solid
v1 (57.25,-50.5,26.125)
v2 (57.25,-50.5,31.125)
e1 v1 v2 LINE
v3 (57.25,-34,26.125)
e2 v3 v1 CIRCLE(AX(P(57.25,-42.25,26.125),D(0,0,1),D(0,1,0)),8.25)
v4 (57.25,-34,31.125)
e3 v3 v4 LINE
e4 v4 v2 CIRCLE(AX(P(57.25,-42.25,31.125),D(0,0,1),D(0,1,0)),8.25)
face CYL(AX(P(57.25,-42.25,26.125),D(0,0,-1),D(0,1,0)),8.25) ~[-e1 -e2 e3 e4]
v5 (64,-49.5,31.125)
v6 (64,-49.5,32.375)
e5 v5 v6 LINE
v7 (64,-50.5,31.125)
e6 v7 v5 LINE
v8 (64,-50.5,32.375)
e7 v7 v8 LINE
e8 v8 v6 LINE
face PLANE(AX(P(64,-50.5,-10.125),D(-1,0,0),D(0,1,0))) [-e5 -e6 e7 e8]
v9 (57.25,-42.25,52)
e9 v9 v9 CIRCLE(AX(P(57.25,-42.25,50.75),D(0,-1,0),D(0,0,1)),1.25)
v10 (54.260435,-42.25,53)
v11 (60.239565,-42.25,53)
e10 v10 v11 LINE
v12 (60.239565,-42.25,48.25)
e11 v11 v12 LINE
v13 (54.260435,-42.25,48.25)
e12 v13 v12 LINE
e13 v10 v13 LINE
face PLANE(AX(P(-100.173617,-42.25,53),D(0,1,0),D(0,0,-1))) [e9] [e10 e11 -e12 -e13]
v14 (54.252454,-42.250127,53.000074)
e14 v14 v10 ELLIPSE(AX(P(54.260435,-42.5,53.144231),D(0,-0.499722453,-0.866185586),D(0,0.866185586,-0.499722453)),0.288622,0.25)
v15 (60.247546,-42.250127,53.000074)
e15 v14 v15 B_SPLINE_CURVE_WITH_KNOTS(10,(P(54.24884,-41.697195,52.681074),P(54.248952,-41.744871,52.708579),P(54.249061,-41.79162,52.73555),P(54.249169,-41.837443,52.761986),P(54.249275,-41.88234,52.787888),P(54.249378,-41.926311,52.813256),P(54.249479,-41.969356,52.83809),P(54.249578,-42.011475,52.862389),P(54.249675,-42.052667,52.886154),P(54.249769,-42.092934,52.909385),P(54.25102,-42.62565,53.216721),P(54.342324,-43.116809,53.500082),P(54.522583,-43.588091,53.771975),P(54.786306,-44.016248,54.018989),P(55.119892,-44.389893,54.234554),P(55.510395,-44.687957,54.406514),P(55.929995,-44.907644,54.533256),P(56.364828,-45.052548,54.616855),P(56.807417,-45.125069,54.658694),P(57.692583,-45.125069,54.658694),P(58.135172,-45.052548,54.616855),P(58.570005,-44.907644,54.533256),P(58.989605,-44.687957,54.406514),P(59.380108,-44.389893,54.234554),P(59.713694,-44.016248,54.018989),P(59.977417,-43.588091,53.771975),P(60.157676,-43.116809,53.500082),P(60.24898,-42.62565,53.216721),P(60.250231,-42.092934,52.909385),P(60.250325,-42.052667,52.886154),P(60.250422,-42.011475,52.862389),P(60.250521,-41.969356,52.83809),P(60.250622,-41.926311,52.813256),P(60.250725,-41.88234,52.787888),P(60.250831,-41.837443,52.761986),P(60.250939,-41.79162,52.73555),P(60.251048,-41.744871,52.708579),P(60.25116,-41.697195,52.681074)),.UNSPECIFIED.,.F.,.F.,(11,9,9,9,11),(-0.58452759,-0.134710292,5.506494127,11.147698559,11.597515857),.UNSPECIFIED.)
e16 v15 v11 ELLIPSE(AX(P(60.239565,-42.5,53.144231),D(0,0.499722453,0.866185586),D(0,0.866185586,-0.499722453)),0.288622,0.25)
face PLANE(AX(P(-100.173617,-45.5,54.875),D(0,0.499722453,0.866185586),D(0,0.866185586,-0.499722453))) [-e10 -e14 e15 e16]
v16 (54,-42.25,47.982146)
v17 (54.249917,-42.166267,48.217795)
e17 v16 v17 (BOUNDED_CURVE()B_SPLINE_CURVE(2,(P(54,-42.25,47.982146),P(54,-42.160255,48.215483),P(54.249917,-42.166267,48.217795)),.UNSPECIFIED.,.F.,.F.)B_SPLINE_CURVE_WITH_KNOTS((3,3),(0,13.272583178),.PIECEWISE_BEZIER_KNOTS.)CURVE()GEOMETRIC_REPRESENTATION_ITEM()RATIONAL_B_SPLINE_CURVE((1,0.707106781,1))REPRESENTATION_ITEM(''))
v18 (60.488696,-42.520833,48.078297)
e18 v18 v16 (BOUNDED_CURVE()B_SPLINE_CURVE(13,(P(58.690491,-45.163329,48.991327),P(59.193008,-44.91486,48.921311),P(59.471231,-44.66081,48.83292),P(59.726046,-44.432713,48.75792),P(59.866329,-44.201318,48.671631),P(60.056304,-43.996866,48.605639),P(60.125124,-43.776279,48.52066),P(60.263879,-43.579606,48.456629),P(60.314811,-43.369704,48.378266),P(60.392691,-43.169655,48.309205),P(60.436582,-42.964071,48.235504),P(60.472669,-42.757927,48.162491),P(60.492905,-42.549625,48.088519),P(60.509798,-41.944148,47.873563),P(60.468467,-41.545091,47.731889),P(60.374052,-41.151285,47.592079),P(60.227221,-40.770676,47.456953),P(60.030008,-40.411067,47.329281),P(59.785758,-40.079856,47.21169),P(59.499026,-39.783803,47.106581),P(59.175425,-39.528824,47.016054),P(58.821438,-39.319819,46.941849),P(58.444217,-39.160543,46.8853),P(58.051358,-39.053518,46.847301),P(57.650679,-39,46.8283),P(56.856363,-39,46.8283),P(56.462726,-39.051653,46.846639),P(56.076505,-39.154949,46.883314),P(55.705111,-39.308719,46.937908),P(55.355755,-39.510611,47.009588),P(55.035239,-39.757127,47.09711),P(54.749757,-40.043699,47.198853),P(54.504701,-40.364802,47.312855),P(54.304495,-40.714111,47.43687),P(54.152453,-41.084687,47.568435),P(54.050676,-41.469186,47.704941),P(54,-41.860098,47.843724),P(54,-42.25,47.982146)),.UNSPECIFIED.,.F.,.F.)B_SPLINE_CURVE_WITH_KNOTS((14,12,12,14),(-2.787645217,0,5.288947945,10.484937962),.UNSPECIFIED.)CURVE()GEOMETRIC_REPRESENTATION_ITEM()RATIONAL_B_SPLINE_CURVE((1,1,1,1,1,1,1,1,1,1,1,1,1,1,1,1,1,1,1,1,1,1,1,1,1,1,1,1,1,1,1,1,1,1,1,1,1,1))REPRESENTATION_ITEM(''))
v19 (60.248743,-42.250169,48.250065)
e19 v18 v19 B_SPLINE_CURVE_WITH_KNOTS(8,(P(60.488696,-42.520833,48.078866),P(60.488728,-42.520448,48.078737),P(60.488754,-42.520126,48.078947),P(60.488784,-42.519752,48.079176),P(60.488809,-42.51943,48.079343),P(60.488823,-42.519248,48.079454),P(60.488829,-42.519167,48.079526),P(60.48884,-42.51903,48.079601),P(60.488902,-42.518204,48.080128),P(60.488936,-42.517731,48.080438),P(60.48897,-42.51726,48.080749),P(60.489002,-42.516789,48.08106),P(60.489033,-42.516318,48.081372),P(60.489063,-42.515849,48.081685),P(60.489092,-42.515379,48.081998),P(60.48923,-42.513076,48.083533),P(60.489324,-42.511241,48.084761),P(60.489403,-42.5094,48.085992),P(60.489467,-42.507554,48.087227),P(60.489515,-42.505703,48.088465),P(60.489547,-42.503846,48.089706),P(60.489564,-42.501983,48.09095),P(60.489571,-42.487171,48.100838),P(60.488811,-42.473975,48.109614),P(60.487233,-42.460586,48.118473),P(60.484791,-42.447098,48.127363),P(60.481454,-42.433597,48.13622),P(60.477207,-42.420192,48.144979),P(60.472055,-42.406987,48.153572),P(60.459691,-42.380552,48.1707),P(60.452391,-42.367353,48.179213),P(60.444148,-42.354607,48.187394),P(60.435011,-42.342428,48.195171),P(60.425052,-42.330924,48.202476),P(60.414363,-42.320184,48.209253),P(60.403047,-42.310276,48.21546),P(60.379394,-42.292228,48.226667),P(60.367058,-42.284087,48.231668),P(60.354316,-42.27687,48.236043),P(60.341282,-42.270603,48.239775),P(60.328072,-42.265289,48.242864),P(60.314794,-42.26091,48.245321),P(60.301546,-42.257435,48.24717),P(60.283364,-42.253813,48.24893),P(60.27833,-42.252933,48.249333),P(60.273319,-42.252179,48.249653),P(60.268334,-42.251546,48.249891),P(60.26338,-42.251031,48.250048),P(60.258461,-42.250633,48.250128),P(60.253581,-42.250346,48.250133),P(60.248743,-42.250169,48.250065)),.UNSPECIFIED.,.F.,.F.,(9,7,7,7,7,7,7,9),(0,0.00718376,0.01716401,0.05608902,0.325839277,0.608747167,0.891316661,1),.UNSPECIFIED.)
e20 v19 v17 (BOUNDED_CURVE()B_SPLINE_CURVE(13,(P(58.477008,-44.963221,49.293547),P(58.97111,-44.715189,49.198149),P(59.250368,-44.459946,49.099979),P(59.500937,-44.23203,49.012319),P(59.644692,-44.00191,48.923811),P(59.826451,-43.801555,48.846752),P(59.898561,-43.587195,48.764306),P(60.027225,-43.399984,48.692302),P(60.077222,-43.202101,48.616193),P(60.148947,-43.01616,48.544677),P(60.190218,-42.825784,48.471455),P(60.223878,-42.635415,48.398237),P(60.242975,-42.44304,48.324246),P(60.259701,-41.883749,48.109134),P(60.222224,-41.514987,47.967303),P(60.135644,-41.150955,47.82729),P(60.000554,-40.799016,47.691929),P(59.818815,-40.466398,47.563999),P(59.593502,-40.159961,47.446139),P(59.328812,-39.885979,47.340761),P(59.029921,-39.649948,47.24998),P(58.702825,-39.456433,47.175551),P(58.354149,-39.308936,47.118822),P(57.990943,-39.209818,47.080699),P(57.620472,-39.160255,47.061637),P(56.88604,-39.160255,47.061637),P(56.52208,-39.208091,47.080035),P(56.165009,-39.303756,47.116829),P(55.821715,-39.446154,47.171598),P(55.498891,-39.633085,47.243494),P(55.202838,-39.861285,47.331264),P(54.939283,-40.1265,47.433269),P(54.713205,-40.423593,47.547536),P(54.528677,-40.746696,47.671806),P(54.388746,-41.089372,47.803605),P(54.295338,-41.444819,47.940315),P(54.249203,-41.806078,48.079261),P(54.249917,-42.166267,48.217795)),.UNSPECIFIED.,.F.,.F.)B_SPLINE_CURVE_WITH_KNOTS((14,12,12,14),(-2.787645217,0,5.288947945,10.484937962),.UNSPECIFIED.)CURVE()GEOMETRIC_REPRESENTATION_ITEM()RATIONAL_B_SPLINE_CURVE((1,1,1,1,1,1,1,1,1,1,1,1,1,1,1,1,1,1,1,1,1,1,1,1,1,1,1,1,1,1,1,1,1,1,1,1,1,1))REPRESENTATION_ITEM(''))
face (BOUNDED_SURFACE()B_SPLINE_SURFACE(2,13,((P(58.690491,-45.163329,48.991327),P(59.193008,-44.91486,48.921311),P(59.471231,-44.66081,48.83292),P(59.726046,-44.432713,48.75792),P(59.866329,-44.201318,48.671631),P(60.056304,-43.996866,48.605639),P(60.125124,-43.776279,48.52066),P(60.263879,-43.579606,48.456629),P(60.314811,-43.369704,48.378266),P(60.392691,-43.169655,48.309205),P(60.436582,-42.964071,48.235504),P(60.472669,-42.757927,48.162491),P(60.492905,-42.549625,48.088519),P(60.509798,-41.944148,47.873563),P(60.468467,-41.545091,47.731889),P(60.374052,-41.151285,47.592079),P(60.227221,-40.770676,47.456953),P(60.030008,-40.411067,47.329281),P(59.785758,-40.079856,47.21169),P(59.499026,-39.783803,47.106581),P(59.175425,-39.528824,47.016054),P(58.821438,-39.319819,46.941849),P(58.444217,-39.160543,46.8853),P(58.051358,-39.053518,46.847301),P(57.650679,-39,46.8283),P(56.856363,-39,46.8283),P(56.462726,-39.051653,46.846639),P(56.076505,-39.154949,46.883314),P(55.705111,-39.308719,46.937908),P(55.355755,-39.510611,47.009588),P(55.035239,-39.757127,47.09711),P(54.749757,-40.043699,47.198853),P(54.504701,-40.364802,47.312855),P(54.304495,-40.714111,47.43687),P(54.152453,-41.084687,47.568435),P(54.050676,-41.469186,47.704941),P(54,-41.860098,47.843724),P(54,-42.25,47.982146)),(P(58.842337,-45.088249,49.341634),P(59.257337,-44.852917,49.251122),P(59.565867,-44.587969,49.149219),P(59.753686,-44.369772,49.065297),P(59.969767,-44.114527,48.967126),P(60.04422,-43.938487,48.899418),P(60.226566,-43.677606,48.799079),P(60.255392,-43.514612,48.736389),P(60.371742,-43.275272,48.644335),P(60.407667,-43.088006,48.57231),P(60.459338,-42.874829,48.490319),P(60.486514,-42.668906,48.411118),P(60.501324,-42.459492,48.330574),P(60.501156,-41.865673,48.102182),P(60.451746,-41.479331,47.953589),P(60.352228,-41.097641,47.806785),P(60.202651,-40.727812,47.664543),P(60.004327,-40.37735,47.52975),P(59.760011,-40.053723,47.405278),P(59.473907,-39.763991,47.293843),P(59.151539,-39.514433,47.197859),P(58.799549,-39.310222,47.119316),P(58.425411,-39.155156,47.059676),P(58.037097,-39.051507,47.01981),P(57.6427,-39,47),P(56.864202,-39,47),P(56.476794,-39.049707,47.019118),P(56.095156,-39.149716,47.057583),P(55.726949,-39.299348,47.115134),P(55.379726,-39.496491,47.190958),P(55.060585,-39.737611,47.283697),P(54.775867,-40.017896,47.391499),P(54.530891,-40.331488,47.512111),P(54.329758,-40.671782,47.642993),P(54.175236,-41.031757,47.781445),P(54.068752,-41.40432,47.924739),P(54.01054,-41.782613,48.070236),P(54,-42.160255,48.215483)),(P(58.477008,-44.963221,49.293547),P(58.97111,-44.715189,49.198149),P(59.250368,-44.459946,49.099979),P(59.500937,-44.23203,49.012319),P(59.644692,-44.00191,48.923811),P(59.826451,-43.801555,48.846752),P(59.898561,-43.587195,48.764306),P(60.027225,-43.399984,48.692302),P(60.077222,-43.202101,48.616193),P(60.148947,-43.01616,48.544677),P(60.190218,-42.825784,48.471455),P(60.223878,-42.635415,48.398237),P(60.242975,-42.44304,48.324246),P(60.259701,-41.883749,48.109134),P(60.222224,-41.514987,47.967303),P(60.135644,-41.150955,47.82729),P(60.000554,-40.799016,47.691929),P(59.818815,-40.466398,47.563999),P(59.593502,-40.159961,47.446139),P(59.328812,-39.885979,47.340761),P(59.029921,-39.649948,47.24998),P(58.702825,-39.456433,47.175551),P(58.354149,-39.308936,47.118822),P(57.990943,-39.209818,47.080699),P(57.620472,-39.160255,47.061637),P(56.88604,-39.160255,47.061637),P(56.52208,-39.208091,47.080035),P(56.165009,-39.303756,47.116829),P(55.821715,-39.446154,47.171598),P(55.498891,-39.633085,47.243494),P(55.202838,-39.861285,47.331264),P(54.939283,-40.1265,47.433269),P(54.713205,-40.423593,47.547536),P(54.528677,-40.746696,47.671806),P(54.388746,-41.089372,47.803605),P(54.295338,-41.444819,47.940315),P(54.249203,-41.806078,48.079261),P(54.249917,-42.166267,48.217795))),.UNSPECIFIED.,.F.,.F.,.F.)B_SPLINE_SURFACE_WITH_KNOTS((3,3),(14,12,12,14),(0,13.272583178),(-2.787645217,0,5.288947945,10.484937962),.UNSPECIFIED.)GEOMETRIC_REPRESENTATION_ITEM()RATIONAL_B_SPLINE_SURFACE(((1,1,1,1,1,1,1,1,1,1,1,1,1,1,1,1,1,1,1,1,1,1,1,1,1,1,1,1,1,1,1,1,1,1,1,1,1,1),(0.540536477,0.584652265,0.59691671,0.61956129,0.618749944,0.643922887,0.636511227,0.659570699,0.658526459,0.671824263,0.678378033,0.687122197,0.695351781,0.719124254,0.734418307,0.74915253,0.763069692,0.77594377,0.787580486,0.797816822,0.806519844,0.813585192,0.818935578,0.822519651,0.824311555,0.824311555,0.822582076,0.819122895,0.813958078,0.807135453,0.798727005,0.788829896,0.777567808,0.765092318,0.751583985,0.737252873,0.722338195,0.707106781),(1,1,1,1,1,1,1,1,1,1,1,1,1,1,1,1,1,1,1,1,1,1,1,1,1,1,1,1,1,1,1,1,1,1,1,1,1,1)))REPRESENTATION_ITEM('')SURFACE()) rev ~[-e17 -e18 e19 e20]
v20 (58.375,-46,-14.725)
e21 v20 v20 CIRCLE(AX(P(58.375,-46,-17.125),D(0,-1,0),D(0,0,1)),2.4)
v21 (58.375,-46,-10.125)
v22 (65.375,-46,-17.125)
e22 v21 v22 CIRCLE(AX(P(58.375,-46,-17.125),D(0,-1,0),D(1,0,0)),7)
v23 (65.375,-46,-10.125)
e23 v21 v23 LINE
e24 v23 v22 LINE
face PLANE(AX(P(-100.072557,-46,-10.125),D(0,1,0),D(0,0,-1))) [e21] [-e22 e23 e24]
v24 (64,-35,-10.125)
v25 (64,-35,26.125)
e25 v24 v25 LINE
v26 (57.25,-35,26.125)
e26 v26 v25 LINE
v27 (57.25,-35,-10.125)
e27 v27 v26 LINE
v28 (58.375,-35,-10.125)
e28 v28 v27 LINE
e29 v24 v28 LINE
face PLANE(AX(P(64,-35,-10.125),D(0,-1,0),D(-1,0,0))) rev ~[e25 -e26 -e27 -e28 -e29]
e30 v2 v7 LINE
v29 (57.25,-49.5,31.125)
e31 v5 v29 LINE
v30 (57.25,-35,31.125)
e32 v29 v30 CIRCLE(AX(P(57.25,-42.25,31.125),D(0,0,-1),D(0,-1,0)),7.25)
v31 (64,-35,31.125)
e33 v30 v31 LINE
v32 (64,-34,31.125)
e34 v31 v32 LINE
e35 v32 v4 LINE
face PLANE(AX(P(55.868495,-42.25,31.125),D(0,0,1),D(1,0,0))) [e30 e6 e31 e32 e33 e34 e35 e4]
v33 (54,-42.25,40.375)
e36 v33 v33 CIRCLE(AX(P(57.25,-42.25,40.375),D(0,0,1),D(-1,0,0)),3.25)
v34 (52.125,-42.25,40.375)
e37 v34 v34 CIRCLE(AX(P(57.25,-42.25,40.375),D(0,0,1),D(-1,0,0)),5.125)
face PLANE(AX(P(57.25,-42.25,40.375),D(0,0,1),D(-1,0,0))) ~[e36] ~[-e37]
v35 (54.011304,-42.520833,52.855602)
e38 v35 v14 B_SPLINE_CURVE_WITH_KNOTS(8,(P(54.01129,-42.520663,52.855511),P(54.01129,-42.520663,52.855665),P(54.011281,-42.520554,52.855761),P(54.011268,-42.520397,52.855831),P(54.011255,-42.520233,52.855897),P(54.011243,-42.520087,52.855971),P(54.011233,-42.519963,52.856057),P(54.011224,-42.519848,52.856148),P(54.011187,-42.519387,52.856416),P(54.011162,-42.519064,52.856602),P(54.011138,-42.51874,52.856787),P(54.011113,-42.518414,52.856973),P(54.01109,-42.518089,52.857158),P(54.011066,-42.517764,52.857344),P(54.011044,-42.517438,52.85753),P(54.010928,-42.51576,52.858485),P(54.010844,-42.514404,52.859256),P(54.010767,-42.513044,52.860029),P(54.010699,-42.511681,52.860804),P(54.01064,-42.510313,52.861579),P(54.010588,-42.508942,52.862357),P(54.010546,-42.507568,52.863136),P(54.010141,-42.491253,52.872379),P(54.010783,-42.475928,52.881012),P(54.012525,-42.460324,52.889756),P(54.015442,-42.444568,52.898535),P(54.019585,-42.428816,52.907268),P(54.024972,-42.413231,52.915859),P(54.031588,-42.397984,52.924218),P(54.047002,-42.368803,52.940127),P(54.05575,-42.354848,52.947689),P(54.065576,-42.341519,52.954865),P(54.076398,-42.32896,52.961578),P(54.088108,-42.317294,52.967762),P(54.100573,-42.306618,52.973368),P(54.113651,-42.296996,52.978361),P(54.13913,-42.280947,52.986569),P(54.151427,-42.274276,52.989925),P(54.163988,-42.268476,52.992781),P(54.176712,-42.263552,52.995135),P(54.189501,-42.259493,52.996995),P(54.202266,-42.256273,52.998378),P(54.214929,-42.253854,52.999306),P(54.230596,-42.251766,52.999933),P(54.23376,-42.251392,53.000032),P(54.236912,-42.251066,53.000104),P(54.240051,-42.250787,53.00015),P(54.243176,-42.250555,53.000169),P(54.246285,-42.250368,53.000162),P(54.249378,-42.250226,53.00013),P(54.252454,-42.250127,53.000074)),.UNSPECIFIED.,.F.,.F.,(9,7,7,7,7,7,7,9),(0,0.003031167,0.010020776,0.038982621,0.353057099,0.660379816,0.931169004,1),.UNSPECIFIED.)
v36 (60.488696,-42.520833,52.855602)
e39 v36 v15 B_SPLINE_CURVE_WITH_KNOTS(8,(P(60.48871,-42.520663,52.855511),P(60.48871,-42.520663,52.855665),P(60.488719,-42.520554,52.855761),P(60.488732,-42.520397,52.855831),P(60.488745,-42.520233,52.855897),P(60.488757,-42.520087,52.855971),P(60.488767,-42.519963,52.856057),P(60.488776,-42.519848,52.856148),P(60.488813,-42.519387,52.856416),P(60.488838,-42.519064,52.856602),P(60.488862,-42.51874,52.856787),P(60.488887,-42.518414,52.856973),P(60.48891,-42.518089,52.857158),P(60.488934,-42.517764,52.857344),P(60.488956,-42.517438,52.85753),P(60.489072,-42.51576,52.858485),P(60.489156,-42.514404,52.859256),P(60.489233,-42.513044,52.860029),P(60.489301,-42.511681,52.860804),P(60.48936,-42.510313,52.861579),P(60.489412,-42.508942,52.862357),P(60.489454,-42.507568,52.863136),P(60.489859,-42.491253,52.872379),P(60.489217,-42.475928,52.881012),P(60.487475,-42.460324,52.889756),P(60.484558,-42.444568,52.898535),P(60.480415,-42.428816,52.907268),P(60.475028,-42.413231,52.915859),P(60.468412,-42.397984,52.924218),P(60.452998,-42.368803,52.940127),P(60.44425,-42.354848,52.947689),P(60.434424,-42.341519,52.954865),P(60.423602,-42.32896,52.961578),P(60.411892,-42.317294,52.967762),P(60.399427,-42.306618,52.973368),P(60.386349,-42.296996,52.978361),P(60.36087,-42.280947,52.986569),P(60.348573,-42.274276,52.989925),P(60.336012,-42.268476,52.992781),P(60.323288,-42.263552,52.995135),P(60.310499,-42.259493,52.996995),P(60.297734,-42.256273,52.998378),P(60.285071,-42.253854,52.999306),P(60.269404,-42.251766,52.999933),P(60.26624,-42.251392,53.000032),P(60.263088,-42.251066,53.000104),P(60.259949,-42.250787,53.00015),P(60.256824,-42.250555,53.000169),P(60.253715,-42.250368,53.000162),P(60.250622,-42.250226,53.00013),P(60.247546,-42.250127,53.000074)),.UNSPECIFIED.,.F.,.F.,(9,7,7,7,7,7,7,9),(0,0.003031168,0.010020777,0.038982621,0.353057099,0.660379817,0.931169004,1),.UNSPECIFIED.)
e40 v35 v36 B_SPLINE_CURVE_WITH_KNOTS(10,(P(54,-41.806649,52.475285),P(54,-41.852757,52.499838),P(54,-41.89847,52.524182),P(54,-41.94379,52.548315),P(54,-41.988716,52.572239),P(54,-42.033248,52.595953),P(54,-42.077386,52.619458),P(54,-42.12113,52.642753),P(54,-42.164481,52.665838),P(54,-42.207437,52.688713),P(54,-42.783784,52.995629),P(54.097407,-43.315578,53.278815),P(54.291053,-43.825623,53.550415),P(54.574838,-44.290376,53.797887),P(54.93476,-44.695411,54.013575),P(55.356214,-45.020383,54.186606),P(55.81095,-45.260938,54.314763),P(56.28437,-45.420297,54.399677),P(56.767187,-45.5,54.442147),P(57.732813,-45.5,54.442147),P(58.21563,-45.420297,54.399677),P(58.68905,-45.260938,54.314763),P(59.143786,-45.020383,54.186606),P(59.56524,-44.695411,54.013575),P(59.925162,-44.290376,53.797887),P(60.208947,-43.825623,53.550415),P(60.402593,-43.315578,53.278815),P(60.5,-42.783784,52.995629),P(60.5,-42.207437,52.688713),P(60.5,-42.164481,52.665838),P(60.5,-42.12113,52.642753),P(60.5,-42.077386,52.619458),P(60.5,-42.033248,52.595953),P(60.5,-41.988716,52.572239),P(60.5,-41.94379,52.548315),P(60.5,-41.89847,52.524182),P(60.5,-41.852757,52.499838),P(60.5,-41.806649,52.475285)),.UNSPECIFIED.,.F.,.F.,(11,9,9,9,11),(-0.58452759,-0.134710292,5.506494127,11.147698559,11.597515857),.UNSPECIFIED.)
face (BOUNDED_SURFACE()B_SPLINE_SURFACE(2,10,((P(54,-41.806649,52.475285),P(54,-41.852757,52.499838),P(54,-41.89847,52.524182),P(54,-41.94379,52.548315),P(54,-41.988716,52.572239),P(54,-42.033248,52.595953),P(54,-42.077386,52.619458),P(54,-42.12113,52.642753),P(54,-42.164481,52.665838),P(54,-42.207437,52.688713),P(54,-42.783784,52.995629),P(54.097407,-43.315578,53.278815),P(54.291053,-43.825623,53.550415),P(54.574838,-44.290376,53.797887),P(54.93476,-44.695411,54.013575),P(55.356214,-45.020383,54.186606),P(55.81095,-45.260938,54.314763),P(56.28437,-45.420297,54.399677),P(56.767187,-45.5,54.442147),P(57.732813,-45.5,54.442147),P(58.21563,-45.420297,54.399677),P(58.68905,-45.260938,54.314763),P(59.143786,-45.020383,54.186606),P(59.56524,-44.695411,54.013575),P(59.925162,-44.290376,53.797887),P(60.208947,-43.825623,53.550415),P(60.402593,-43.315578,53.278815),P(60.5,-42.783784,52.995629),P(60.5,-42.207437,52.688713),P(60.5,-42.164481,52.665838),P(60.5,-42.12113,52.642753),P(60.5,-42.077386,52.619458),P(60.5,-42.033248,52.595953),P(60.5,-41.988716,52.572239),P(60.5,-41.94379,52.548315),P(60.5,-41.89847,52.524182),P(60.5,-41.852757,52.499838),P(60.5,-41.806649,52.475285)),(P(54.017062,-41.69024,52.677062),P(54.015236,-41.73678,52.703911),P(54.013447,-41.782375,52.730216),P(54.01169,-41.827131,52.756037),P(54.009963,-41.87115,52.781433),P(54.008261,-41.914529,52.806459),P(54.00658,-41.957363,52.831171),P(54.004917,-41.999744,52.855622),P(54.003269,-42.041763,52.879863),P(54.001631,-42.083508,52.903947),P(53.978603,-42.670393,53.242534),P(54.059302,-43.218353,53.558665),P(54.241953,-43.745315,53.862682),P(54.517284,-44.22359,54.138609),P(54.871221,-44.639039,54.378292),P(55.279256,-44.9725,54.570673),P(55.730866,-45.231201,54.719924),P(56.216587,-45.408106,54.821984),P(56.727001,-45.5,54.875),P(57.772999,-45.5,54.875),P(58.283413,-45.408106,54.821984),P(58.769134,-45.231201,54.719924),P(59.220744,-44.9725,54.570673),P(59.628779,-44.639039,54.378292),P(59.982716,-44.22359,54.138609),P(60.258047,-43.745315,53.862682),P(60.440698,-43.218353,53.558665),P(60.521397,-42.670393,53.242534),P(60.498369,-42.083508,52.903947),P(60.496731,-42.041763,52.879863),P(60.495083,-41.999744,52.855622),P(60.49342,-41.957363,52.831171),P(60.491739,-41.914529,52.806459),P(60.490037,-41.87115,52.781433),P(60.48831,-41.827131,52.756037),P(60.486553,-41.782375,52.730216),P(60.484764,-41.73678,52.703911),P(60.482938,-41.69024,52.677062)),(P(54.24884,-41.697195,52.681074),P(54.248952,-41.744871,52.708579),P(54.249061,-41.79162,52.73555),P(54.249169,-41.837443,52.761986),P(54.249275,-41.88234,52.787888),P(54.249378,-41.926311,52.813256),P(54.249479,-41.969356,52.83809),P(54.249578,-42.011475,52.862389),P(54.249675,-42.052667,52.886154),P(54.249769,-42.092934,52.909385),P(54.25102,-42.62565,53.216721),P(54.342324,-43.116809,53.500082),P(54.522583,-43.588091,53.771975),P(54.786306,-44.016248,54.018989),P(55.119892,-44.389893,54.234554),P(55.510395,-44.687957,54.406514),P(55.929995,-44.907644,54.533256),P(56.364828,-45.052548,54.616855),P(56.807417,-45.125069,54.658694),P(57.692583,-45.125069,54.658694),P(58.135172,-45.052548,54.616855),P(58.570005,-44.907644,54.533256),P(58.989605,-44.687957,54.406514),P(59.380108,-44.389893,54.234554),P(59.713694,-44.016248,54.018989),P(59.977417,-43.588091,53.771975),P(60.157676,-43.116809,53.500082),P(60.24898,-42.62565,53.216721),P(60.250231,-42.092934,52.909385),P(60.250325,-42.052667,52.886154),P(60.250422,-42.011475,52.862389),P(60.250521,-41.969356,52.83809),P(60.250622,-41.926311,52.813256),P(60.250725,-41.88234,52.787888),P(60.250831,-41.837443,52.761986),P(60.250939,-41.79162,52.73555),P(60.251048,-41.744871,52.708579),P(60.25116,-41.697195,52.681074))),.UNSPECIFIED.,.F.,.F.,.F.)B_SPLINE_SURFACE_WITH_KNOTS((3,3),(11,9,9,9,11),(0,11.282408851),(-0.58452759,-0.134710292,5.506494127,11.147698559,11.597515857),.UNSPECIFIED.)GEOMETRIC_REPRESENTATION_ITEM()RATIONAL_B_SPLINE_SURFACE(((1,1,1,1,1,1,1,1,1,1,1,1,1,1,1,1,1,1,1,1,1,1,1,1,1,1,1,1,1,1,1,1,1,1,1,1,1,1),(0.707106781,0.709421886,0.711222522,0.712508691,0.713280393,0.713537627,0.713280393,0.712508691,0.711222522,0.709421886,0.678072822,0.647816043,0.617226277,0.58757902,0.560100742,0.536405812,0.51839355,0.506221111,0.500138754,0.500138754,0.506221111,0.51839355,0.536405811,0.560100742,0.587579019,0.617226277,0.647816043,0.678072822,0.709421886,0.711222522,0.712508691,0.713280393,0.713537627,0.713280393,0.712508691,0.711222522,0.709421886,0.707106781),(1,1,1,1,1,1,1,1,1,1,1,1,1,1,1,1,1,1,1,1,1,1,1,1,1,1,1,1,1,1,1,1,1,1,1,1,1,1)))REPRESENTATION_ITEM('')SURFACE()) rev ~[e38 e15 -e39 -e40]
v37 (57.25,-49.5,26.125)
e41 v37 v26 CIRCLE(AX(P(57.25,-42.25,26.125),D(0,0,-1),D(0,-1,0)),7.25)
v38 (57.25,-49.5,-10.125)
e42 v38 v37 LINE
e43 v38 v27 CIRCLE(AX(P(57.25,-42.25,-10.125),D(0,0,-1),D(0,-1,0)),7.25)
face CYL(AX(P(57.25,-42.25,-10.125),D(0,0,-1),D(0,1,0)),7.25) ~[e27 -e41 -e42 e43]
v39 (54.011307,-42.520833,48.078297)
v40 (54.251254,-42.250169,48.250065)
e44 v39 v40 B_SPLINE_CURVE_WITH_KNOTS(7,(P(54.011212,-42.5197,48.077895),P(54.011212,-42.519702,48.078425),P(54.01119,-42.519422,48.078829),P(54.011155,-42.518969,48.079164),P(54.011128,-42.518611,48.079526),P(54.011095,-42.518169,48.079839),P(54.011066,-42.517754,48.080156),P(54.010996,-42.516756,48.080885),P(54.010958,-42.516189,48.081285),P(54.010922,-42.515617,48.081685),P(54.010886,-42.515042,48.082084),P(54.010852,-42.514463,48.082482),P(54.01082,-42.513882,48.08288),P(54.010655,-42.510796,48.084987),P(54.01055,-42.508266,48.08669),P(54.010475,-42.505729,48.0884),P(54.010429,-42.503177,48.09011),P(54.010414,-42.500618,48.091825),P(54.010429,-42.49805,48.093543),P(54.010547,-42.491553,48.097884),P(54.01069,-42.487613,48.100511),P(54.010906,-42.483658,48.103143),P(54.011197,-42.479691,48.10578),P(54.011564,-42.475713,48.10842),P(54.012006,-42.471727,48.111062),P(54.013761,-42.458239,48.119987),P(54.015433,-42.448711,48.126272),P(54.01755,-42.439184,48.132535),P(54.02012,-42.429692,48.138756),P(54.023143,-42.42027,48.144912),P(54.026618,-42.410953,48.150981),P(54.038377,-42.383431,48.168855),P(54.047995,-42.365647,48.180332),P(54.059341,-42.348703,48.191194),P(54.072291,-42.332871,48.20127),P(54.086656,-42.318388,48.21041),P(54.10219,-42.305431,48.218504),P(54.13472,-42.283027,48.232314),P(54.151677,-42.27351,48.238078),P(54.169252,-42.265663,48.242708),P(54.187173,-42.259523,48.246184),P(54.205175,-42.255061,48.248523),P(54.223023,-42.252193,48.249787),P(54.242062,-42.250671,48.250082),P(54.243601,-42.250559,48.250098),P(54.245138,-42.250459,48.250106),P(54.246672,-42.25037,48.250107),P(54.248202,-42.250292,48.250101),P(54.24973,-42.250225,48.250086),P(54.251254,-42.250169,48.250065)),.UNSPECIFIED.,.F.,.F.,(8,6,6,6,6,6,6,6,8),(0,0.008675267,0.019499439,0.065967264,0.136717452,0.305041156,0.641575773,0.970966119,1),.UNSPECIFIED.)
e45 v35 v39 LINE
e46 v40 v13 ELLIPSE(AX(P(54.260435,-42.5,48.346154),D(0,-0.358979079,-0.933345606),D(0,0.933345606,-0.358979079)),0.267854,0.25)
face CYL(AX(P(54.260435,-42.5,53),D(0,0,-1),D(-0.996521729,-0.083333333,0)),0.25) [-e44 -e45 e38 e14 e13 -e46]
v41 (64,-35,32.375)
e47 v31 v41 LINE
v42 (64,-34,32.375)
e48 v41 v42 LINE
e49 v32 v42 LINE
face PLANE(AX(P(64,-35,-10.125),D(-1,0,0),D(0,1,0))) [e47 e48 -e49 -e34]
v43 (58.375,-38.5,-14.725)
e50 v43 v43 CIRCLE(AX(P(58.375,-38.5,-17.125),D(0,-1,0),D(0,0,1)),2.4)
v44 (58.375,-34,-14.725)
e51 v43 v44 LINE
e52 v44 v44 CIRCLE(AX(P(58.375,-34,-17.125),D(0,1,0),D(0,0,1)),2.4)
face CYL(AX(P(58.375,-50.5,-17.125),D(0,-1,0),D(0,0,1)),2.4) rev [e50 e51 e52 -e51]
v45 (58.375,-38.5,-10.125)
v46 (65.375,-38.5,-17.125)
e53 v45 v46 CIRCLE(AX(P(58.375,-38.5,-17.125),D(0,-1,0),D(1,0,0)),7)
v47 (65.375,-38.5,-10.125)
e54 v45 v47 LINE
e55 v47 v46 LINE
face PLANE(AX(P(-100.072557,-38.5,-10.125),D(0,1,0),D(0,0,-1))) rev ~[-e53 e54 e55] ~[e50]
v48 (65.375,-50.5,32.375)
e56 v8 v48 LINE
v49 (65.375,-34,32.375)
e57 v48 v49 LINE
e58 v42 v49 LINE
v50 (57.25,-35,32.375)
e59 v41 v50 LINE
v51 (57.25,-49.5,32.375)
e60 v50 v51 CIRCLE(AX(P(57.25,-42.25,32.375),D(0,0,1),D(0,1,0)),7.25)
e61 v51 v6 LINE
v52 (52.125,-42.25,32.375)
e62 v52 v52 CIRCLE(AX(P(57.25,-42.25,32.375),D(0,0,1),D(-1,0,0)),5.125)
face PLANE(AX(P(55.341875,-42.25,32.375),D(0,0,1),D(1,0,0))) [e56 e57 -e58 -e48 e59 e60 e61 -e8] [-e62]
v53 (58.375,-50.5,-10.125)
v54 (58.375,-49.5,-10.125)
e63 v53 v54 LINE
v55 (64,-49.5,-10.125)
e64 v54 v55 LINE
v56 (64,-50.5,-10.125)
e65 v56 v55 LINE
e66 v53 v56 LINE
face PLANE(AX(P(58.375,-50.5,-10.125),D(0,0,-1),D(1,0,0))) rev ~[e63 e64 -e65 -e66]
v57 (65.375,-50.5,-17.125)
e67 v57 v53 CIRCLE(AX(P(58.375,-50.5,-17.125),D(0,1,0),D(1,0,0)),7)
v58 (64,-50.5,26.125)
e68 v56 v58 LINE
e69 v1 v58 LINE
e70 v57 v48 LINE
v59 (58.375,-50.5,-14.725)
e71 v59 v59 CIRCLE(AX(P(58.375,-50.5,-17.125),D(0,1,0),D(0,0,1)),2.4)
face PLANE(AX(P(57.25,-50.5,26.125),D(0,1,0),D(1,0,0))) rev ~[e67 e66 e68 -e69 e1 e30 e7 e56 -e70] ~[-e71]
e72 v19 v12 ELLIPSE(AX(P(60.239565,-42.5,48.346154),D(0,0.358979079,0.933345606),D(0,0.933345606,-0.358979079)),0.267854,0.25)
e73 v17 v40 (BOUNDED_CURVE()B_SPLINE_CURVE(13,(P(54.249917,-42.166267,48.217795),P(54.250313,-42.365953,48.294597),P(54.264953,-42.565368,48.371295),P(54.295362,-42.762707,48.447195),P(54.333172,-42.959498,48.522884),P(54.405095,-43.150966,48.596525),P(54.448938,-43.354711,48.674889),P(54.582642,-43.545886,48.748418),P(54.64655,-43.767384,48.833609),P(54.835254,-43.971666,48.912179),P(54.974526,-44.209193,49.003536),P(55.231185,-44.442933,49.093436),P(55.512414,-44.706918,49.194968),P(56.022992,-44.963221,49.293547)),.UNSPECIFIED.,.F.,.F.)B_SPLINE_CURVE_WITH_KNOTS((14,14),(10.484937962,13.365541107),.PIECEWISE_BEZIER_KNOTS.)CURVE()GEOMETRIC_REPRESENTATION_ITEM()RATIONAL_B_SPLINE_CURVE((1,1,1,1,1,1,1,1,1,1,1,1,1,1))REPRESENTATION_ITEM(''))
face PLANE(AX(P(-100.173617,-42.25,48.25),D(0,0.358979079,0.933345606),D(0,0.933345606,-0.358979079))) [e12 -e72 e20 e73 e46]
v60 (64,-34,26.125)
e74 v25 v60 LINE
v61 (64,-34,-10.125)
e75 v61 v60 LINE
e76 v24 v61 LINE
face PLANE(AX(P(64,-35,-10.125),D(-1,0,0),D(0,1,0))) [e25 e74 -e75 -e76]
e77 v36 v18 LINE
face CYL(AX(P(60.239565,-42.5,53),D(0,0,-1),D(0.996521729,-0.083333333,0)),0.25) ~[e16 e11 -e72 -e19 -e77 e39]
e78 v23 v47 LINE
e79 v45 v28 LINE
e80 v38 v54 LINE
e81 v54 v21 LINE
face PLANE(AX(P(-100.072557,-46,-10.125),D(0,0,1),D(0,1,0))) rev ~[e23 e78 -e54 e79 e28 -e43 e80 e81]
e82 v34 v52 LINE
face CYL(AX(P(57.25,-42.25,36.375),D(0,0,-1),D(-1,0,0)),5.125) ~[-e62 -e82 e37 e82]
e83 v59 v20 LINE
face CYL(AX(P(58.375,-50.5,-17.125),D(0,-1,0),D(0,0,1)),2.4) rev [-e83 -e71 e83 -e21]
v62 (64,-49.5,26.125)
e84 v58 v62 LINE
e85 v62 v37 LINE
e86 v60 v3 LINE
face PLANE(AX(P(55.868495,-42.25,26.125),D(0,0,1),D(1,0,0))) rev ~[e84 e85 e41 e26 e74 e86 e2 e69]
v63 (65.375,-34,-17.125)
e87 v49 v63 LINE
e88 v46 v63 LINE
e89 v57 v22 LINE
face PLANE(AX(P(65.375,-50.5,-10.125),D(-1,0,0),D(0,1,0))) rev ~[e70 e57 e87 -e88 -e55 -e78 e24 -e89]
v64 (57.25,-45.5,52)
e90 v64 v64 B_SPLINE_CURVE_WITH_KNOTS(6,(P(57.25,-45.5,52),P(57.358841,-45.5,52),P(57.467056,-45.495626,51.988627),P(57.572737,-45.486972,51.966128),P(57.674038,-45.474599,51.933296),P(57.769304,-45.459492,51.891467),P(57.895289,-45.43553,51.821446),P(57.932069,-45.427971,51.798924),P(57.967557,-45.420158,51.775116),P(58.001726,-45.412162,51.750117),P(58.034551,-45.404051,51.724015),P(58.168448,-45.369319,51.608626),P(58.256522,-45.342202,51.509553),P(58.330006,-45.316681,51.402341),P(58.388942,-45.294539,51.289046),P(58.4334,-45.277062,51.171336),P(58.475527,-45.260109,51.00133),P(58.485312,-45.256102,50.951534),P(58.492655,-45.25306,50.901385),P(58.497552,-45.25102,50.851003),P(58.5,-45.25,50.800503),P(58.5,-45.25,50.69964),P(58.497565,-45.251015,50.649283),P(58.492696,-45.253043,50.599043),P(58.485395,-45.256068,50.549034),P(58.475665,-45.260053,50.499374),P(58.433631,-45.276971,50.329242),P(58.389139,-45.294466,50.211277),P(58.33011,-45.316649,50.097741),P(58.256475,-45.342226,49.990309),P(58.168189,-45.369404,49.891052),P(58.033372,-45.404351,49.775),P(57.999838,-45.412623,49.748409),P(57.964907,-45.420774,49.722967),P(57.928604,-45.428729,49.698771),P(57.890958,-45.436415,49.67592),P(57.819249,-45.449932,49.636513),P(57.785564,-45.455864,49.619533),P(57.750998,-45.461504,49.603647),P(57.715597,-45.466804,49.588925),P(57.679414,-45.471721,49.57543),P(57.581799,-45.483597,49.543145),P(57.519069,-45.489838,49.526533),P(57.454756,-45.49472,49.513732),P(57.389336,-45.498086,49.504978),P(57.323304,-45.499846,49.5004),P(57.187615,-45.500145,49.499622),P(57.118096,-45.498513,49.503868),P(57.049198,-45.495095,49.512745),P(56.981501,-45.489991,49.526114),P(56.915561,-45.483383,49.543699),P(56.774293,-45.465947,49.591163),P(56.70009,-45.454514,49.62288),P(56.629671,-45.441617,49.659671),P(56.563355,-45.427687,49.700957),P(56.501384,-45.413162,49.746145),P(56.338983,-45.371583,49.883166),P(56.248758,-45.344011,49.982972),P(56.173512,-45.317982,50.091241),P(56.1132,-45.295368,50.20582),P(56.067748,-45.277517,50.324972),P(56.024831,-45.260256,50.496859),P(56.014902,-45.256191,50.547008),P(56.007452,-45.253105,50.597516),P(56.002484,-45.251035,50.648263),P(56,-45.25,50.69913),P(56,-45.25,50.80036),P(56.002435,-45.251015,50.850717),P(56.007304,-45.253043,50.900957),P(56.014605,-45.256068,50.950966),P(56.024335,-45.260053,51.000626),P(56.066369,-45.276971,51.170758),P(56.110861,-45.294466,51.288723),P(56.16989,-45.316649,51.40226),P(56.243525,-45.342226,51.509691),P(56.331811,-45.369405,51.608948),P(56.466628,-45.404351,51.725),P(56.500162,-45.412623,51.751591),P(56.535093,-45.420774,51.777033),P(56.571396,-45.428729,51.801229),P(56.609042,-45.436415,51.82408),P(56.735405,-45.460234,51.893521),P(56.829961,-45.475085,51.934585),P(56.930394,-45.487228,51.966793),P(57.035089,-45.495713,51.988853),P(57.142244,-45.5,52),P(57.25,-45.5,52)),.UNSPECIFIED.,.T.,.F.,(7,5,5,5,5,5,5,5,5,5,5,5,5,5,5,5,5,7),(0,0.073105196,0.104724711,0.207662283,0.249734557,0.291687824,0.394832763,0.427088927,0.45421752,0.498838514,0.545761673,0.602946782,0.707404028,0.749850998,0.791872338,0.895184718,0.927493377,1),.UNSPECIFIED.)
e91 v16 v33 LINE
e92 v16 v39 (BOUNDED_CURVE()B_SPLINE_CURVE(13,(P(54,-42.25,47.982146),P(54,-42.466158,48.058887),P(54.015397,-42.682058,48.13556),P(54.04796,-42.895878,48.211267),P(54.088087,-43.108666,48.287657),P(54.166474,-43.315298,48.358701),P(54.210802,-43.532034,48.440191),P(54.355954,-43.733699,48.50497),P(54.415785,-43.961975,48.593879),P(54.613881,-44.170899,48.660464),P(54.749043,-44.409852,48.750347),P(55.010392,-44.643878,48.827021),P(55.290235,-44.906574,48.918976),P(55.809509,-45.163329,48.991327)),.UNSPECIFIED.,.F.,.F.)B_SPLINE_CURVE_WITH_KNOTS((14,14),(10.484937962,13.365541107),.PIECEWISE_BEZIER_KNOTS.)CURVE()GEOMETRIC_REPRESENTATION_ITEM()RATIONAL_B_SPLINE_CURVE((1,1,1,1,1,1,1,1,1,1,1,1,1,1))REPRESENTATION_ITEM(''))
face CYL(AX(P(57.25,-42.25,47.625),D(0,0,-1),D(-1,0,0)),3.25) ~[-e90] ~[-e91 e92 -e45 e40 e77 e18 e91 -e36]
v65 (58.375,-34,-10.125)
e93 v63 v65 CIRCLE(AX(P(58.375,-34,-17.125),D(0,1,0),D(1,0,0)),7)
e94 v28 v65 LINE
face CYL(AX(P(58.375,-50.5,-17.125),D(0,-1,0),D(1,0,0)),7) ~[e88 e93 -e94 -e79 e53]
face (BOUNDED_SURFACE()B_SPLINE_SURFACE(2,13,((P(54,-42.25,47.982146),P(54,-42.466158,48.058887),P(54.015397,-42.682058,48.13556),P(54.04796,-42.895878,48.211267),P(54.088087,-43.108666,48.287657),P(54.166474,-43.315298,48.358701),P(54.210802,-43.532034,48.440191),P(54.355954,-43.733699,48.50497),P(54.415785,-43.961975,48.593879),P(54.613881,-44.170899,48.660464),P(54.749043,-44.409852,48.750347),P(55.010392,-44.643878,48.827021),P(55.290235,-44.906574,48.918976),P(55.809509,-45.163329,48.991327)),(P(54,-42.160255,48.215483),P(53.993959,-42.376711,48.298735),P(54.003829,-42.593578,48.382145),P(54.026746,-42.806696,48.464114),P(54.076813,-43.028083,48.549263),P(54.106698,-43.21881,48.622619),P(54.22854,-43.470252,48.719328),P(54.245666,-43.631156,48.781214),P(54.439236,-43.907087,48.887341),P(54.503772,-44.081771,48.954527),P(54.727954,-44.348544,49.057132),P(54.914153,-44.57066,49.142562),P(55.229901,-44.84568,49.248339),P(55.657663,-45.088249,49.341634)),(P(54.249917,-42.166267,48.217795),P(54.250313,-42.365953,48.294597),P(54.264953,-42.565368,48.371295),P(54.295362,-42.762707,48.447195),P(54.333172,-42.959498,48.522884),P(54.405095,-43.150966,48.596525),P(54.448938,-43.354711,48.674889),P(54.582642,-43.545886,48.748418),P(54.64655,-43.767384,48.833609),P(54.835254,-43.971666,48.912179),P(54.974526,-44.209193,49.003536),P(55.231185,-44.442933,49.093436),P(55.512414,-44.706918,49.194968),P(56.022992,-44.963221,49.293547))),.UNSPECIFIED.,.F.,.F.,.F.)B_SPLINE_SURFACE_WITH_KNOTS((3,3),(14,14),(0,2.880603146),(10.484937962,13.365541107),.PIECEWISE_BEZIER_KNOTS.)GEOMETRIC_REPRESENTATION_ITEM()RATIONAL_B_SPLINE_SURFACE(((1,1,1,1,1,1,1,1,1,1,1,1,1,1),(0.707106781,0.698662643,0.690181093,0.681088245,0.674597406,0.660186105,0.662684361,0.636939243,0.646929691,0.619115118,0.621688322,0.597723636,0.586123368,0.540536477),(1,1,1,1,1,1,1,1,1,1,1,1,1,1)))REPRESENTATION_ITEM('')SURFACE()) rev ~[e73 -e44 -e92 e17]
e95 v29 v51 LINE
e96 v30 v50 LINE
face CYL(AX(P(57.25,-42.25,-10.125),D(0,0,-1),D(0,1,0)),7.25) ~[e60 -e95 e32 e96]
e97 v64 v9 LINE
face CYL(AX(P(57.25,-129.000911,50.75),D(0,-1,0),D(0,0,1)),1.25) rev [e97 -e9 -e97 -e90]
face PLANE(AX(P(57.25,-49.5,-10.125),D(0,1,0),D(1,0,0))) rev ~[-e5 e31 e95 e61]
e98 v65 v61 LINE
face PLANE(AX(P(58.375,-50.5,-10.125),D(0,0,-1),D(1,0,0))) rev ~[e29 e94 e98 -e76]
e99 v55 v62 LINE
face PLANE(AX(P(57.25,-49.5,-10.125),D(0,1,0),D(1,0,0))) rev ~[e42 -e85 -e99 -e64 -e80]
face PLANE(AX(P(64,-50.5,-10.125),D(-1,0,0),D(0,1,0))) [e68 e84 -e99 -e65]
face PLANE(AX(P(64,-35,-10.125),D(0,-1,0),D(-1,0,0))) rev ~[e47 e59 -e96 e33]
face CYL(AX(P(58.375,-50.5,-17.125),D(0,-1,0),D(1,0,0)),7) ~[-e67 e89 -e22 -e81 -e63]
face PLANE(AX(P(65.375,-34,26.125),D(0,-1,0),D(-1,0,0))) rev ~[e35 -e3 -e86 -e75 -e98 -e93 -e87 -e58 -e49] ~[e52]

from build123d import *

# Parameters (mm, degrees)
SKETCH_1_R               = 2.4
EXTRUDE_1_DEPTH          = 16.5
EXTRUDE_2_DEPTH          = 42.5
EXTRUDE_START            = -6.25
EXTRUDE_3_DEPTH          = 5
CUT_EXTRUDE_1_DEPTH      = 100.173616703
CUT_EXTRUDE_1_DEPTH_BACK = 100.173616703
CUT_EXTRUDE_2_DEPTH      = 86.750911074
CUT_EXTRUDE_2_DEPTH_BACK = 86.750911074
SKETCH_7_R               = 1.25
FILLET_1_R               = 0.25
CUT_EXTRUDE_3_DEPTH      = 100.072557411
CUT_EXTRUDE_3_DEPTH_BACK = 100.072557411


with BuildPart() as part:
    # 草图1 → 凸台-拉伸1 (new body)
    with BuildSketch(Plane(origin=(0, -50.5, 0), x_dir=(1, 0, 0), z_dir=(0, 1, 0))):
        with BuildLine():
            ThreePointArc((65.375, 17.125), (53.425252532, 22.074747468), (58.375, 10.125))
            Line((58.375, 10.125), (65.375, 10.125))
            Line((65.375, 10.125), (65.375, 17.125))
        make_face()
        with Locations((58.375, 17.125)):
            Circle(SKETCH_1_R, mode=Mode.SUBTRACT)
    extrude(amount=EXTRUDE_1_DEPTH)

    # 草图2 → 凸台-拉伸2 (add)
    with BuildSketch(Plane.XY.offset(-10.125)):
        with BuildLine():
            Line((64, -50.5), (65.375, -50.5))
            Line((65.375, -50.5), (65.375, -34))
            Line((65.375, -34), (64, -34))
            Line((64, -34), (64, -35))
            Line((64, -35), (57.25, -35))
            ThreePointArc((57.25, -35), (50, -42.25), (57.25, -49.5))
            Line((57.25, -49.5), (64, -49.5))
            Line((64, -49.5), (64, -50.5))
        make_face()
    extrude(amount=EXTRUDE_2_DEPTH)

    # 草图3 → 凸台-拉伸3 (add)
    with BuildSketch(Plane.XY.offset(32.375).offset(EXTRUDE_START)):
        with BuildLine():
            ThreePointArc((57.25, -49.5), (50, -42.25), (57.25, -35))
            Line((57.25, -35), (65.375, -35))
            Line((65.375, -35), (65.375, -34))
            Line((65.375, -34), (57.25, -34))
            ThreePointArc((57.25, -34), (49, -42.25), (57.25, -50.5))
            Line((57.25, -50.5), (65.375, -50.5))
            Line((65.375, -50.5), (65.375, -49.5))
            Line((65.375, -49.5), (57.25, -49.5))
        make_face()
    extrude(amount=EXTRUDE_3_DEPTH)

    # 草图5 → 旋转1 (revolve)
    with BuildSketch(Plane(origin=(0, -42.25, 0), x_dir=(1, 0, 0), z_dir=(0, 1, 0))):
        Polygon((62.375, -32.375), (57.25, -32.375), (57.25, -54.875), (60.5, -54.875), (60.5, -40.375), (62.375, -40.375), align=None)
    revolve(axis=Axis((57.25, -42.25, 32.375), (0, 0, 1)))

    # 草图6 → 切除-拉伸1 (cut, two sides: drawn at the far end of the back side and taken through both)
    with BuildSketch(Plane(origin=(0, 0, 0), x_dir=(0, 0, -1), z_dir=(1, 0, 0)).offset(-CUT_EXTRUDE_1_DEPTH_BACK)):
        Polygon((-48.25, -42.25), (-47, -39), (-54.875, -39), (-54.875, -45.5), (-53, -42.25), align=None)
    extrude(amount=CUT_EXTRUDE_1_DEPTH + CUT_EXTRUDE_1_DEPTH_BACK, mode=Mode.SUBTRACT)

    # 草图7 → 切除-拉伸2 (cut, two sides: drawn at the far end of the back side and taken through both)
    with BuildSketch(Plane(origin=(0, -42.25, 0), x_dir=(1, 0, 0), z_dir=(0, 1, 0)).offset(-CUT_EXTRUDE_2_DEPTH_BACK)):
        with Locations((57.25, -50.75)):
            Circle(SKETCH_7_R)
    extrude(amount=CUT_EXTRUDE_2_DEPTH + CUT_EXTRUDE_2_DEPTH_BACK, mode=Mode.SUBTRACT)

    # 圆角1
    fillet_1_edges = [part.edges().sort_by_distance(p)[0] for p in [
        (59.628523426, -44.464751975, 54.277741524),
        (54, -42.25, 50.625),
        (60.5, -42.25, 50.625),
        (59.587314609, -39.99180151, 47.381462119),
    ]]
    fillet(fillet_1_edges, radius=FILLET_1_R)

    # 草图8 → 切除-拉伸3 (cut, two sides: drawn at the far end of the back side and taken through both)
    with BuildSketch(Plane(origin=(0, 0, 0), x_dir=(0, 0, -1), z_dir=(1, 0, 0)).offset(-CUT_EXTRUDE_3_DEPTH_BACK)):
        Polygon((25.79116453, -38.5), (10.125, -38.5), (10.125, -46), (25.79116453, -46), (25.79116453, -42.25), align=None)
    extrude(amount=CUT_EXTRUDE_3_DEPTH + CUT_EXTRUDE_3_DEPTH_BACK, mode=Mode.SUBTRACT)


solid = part.part
